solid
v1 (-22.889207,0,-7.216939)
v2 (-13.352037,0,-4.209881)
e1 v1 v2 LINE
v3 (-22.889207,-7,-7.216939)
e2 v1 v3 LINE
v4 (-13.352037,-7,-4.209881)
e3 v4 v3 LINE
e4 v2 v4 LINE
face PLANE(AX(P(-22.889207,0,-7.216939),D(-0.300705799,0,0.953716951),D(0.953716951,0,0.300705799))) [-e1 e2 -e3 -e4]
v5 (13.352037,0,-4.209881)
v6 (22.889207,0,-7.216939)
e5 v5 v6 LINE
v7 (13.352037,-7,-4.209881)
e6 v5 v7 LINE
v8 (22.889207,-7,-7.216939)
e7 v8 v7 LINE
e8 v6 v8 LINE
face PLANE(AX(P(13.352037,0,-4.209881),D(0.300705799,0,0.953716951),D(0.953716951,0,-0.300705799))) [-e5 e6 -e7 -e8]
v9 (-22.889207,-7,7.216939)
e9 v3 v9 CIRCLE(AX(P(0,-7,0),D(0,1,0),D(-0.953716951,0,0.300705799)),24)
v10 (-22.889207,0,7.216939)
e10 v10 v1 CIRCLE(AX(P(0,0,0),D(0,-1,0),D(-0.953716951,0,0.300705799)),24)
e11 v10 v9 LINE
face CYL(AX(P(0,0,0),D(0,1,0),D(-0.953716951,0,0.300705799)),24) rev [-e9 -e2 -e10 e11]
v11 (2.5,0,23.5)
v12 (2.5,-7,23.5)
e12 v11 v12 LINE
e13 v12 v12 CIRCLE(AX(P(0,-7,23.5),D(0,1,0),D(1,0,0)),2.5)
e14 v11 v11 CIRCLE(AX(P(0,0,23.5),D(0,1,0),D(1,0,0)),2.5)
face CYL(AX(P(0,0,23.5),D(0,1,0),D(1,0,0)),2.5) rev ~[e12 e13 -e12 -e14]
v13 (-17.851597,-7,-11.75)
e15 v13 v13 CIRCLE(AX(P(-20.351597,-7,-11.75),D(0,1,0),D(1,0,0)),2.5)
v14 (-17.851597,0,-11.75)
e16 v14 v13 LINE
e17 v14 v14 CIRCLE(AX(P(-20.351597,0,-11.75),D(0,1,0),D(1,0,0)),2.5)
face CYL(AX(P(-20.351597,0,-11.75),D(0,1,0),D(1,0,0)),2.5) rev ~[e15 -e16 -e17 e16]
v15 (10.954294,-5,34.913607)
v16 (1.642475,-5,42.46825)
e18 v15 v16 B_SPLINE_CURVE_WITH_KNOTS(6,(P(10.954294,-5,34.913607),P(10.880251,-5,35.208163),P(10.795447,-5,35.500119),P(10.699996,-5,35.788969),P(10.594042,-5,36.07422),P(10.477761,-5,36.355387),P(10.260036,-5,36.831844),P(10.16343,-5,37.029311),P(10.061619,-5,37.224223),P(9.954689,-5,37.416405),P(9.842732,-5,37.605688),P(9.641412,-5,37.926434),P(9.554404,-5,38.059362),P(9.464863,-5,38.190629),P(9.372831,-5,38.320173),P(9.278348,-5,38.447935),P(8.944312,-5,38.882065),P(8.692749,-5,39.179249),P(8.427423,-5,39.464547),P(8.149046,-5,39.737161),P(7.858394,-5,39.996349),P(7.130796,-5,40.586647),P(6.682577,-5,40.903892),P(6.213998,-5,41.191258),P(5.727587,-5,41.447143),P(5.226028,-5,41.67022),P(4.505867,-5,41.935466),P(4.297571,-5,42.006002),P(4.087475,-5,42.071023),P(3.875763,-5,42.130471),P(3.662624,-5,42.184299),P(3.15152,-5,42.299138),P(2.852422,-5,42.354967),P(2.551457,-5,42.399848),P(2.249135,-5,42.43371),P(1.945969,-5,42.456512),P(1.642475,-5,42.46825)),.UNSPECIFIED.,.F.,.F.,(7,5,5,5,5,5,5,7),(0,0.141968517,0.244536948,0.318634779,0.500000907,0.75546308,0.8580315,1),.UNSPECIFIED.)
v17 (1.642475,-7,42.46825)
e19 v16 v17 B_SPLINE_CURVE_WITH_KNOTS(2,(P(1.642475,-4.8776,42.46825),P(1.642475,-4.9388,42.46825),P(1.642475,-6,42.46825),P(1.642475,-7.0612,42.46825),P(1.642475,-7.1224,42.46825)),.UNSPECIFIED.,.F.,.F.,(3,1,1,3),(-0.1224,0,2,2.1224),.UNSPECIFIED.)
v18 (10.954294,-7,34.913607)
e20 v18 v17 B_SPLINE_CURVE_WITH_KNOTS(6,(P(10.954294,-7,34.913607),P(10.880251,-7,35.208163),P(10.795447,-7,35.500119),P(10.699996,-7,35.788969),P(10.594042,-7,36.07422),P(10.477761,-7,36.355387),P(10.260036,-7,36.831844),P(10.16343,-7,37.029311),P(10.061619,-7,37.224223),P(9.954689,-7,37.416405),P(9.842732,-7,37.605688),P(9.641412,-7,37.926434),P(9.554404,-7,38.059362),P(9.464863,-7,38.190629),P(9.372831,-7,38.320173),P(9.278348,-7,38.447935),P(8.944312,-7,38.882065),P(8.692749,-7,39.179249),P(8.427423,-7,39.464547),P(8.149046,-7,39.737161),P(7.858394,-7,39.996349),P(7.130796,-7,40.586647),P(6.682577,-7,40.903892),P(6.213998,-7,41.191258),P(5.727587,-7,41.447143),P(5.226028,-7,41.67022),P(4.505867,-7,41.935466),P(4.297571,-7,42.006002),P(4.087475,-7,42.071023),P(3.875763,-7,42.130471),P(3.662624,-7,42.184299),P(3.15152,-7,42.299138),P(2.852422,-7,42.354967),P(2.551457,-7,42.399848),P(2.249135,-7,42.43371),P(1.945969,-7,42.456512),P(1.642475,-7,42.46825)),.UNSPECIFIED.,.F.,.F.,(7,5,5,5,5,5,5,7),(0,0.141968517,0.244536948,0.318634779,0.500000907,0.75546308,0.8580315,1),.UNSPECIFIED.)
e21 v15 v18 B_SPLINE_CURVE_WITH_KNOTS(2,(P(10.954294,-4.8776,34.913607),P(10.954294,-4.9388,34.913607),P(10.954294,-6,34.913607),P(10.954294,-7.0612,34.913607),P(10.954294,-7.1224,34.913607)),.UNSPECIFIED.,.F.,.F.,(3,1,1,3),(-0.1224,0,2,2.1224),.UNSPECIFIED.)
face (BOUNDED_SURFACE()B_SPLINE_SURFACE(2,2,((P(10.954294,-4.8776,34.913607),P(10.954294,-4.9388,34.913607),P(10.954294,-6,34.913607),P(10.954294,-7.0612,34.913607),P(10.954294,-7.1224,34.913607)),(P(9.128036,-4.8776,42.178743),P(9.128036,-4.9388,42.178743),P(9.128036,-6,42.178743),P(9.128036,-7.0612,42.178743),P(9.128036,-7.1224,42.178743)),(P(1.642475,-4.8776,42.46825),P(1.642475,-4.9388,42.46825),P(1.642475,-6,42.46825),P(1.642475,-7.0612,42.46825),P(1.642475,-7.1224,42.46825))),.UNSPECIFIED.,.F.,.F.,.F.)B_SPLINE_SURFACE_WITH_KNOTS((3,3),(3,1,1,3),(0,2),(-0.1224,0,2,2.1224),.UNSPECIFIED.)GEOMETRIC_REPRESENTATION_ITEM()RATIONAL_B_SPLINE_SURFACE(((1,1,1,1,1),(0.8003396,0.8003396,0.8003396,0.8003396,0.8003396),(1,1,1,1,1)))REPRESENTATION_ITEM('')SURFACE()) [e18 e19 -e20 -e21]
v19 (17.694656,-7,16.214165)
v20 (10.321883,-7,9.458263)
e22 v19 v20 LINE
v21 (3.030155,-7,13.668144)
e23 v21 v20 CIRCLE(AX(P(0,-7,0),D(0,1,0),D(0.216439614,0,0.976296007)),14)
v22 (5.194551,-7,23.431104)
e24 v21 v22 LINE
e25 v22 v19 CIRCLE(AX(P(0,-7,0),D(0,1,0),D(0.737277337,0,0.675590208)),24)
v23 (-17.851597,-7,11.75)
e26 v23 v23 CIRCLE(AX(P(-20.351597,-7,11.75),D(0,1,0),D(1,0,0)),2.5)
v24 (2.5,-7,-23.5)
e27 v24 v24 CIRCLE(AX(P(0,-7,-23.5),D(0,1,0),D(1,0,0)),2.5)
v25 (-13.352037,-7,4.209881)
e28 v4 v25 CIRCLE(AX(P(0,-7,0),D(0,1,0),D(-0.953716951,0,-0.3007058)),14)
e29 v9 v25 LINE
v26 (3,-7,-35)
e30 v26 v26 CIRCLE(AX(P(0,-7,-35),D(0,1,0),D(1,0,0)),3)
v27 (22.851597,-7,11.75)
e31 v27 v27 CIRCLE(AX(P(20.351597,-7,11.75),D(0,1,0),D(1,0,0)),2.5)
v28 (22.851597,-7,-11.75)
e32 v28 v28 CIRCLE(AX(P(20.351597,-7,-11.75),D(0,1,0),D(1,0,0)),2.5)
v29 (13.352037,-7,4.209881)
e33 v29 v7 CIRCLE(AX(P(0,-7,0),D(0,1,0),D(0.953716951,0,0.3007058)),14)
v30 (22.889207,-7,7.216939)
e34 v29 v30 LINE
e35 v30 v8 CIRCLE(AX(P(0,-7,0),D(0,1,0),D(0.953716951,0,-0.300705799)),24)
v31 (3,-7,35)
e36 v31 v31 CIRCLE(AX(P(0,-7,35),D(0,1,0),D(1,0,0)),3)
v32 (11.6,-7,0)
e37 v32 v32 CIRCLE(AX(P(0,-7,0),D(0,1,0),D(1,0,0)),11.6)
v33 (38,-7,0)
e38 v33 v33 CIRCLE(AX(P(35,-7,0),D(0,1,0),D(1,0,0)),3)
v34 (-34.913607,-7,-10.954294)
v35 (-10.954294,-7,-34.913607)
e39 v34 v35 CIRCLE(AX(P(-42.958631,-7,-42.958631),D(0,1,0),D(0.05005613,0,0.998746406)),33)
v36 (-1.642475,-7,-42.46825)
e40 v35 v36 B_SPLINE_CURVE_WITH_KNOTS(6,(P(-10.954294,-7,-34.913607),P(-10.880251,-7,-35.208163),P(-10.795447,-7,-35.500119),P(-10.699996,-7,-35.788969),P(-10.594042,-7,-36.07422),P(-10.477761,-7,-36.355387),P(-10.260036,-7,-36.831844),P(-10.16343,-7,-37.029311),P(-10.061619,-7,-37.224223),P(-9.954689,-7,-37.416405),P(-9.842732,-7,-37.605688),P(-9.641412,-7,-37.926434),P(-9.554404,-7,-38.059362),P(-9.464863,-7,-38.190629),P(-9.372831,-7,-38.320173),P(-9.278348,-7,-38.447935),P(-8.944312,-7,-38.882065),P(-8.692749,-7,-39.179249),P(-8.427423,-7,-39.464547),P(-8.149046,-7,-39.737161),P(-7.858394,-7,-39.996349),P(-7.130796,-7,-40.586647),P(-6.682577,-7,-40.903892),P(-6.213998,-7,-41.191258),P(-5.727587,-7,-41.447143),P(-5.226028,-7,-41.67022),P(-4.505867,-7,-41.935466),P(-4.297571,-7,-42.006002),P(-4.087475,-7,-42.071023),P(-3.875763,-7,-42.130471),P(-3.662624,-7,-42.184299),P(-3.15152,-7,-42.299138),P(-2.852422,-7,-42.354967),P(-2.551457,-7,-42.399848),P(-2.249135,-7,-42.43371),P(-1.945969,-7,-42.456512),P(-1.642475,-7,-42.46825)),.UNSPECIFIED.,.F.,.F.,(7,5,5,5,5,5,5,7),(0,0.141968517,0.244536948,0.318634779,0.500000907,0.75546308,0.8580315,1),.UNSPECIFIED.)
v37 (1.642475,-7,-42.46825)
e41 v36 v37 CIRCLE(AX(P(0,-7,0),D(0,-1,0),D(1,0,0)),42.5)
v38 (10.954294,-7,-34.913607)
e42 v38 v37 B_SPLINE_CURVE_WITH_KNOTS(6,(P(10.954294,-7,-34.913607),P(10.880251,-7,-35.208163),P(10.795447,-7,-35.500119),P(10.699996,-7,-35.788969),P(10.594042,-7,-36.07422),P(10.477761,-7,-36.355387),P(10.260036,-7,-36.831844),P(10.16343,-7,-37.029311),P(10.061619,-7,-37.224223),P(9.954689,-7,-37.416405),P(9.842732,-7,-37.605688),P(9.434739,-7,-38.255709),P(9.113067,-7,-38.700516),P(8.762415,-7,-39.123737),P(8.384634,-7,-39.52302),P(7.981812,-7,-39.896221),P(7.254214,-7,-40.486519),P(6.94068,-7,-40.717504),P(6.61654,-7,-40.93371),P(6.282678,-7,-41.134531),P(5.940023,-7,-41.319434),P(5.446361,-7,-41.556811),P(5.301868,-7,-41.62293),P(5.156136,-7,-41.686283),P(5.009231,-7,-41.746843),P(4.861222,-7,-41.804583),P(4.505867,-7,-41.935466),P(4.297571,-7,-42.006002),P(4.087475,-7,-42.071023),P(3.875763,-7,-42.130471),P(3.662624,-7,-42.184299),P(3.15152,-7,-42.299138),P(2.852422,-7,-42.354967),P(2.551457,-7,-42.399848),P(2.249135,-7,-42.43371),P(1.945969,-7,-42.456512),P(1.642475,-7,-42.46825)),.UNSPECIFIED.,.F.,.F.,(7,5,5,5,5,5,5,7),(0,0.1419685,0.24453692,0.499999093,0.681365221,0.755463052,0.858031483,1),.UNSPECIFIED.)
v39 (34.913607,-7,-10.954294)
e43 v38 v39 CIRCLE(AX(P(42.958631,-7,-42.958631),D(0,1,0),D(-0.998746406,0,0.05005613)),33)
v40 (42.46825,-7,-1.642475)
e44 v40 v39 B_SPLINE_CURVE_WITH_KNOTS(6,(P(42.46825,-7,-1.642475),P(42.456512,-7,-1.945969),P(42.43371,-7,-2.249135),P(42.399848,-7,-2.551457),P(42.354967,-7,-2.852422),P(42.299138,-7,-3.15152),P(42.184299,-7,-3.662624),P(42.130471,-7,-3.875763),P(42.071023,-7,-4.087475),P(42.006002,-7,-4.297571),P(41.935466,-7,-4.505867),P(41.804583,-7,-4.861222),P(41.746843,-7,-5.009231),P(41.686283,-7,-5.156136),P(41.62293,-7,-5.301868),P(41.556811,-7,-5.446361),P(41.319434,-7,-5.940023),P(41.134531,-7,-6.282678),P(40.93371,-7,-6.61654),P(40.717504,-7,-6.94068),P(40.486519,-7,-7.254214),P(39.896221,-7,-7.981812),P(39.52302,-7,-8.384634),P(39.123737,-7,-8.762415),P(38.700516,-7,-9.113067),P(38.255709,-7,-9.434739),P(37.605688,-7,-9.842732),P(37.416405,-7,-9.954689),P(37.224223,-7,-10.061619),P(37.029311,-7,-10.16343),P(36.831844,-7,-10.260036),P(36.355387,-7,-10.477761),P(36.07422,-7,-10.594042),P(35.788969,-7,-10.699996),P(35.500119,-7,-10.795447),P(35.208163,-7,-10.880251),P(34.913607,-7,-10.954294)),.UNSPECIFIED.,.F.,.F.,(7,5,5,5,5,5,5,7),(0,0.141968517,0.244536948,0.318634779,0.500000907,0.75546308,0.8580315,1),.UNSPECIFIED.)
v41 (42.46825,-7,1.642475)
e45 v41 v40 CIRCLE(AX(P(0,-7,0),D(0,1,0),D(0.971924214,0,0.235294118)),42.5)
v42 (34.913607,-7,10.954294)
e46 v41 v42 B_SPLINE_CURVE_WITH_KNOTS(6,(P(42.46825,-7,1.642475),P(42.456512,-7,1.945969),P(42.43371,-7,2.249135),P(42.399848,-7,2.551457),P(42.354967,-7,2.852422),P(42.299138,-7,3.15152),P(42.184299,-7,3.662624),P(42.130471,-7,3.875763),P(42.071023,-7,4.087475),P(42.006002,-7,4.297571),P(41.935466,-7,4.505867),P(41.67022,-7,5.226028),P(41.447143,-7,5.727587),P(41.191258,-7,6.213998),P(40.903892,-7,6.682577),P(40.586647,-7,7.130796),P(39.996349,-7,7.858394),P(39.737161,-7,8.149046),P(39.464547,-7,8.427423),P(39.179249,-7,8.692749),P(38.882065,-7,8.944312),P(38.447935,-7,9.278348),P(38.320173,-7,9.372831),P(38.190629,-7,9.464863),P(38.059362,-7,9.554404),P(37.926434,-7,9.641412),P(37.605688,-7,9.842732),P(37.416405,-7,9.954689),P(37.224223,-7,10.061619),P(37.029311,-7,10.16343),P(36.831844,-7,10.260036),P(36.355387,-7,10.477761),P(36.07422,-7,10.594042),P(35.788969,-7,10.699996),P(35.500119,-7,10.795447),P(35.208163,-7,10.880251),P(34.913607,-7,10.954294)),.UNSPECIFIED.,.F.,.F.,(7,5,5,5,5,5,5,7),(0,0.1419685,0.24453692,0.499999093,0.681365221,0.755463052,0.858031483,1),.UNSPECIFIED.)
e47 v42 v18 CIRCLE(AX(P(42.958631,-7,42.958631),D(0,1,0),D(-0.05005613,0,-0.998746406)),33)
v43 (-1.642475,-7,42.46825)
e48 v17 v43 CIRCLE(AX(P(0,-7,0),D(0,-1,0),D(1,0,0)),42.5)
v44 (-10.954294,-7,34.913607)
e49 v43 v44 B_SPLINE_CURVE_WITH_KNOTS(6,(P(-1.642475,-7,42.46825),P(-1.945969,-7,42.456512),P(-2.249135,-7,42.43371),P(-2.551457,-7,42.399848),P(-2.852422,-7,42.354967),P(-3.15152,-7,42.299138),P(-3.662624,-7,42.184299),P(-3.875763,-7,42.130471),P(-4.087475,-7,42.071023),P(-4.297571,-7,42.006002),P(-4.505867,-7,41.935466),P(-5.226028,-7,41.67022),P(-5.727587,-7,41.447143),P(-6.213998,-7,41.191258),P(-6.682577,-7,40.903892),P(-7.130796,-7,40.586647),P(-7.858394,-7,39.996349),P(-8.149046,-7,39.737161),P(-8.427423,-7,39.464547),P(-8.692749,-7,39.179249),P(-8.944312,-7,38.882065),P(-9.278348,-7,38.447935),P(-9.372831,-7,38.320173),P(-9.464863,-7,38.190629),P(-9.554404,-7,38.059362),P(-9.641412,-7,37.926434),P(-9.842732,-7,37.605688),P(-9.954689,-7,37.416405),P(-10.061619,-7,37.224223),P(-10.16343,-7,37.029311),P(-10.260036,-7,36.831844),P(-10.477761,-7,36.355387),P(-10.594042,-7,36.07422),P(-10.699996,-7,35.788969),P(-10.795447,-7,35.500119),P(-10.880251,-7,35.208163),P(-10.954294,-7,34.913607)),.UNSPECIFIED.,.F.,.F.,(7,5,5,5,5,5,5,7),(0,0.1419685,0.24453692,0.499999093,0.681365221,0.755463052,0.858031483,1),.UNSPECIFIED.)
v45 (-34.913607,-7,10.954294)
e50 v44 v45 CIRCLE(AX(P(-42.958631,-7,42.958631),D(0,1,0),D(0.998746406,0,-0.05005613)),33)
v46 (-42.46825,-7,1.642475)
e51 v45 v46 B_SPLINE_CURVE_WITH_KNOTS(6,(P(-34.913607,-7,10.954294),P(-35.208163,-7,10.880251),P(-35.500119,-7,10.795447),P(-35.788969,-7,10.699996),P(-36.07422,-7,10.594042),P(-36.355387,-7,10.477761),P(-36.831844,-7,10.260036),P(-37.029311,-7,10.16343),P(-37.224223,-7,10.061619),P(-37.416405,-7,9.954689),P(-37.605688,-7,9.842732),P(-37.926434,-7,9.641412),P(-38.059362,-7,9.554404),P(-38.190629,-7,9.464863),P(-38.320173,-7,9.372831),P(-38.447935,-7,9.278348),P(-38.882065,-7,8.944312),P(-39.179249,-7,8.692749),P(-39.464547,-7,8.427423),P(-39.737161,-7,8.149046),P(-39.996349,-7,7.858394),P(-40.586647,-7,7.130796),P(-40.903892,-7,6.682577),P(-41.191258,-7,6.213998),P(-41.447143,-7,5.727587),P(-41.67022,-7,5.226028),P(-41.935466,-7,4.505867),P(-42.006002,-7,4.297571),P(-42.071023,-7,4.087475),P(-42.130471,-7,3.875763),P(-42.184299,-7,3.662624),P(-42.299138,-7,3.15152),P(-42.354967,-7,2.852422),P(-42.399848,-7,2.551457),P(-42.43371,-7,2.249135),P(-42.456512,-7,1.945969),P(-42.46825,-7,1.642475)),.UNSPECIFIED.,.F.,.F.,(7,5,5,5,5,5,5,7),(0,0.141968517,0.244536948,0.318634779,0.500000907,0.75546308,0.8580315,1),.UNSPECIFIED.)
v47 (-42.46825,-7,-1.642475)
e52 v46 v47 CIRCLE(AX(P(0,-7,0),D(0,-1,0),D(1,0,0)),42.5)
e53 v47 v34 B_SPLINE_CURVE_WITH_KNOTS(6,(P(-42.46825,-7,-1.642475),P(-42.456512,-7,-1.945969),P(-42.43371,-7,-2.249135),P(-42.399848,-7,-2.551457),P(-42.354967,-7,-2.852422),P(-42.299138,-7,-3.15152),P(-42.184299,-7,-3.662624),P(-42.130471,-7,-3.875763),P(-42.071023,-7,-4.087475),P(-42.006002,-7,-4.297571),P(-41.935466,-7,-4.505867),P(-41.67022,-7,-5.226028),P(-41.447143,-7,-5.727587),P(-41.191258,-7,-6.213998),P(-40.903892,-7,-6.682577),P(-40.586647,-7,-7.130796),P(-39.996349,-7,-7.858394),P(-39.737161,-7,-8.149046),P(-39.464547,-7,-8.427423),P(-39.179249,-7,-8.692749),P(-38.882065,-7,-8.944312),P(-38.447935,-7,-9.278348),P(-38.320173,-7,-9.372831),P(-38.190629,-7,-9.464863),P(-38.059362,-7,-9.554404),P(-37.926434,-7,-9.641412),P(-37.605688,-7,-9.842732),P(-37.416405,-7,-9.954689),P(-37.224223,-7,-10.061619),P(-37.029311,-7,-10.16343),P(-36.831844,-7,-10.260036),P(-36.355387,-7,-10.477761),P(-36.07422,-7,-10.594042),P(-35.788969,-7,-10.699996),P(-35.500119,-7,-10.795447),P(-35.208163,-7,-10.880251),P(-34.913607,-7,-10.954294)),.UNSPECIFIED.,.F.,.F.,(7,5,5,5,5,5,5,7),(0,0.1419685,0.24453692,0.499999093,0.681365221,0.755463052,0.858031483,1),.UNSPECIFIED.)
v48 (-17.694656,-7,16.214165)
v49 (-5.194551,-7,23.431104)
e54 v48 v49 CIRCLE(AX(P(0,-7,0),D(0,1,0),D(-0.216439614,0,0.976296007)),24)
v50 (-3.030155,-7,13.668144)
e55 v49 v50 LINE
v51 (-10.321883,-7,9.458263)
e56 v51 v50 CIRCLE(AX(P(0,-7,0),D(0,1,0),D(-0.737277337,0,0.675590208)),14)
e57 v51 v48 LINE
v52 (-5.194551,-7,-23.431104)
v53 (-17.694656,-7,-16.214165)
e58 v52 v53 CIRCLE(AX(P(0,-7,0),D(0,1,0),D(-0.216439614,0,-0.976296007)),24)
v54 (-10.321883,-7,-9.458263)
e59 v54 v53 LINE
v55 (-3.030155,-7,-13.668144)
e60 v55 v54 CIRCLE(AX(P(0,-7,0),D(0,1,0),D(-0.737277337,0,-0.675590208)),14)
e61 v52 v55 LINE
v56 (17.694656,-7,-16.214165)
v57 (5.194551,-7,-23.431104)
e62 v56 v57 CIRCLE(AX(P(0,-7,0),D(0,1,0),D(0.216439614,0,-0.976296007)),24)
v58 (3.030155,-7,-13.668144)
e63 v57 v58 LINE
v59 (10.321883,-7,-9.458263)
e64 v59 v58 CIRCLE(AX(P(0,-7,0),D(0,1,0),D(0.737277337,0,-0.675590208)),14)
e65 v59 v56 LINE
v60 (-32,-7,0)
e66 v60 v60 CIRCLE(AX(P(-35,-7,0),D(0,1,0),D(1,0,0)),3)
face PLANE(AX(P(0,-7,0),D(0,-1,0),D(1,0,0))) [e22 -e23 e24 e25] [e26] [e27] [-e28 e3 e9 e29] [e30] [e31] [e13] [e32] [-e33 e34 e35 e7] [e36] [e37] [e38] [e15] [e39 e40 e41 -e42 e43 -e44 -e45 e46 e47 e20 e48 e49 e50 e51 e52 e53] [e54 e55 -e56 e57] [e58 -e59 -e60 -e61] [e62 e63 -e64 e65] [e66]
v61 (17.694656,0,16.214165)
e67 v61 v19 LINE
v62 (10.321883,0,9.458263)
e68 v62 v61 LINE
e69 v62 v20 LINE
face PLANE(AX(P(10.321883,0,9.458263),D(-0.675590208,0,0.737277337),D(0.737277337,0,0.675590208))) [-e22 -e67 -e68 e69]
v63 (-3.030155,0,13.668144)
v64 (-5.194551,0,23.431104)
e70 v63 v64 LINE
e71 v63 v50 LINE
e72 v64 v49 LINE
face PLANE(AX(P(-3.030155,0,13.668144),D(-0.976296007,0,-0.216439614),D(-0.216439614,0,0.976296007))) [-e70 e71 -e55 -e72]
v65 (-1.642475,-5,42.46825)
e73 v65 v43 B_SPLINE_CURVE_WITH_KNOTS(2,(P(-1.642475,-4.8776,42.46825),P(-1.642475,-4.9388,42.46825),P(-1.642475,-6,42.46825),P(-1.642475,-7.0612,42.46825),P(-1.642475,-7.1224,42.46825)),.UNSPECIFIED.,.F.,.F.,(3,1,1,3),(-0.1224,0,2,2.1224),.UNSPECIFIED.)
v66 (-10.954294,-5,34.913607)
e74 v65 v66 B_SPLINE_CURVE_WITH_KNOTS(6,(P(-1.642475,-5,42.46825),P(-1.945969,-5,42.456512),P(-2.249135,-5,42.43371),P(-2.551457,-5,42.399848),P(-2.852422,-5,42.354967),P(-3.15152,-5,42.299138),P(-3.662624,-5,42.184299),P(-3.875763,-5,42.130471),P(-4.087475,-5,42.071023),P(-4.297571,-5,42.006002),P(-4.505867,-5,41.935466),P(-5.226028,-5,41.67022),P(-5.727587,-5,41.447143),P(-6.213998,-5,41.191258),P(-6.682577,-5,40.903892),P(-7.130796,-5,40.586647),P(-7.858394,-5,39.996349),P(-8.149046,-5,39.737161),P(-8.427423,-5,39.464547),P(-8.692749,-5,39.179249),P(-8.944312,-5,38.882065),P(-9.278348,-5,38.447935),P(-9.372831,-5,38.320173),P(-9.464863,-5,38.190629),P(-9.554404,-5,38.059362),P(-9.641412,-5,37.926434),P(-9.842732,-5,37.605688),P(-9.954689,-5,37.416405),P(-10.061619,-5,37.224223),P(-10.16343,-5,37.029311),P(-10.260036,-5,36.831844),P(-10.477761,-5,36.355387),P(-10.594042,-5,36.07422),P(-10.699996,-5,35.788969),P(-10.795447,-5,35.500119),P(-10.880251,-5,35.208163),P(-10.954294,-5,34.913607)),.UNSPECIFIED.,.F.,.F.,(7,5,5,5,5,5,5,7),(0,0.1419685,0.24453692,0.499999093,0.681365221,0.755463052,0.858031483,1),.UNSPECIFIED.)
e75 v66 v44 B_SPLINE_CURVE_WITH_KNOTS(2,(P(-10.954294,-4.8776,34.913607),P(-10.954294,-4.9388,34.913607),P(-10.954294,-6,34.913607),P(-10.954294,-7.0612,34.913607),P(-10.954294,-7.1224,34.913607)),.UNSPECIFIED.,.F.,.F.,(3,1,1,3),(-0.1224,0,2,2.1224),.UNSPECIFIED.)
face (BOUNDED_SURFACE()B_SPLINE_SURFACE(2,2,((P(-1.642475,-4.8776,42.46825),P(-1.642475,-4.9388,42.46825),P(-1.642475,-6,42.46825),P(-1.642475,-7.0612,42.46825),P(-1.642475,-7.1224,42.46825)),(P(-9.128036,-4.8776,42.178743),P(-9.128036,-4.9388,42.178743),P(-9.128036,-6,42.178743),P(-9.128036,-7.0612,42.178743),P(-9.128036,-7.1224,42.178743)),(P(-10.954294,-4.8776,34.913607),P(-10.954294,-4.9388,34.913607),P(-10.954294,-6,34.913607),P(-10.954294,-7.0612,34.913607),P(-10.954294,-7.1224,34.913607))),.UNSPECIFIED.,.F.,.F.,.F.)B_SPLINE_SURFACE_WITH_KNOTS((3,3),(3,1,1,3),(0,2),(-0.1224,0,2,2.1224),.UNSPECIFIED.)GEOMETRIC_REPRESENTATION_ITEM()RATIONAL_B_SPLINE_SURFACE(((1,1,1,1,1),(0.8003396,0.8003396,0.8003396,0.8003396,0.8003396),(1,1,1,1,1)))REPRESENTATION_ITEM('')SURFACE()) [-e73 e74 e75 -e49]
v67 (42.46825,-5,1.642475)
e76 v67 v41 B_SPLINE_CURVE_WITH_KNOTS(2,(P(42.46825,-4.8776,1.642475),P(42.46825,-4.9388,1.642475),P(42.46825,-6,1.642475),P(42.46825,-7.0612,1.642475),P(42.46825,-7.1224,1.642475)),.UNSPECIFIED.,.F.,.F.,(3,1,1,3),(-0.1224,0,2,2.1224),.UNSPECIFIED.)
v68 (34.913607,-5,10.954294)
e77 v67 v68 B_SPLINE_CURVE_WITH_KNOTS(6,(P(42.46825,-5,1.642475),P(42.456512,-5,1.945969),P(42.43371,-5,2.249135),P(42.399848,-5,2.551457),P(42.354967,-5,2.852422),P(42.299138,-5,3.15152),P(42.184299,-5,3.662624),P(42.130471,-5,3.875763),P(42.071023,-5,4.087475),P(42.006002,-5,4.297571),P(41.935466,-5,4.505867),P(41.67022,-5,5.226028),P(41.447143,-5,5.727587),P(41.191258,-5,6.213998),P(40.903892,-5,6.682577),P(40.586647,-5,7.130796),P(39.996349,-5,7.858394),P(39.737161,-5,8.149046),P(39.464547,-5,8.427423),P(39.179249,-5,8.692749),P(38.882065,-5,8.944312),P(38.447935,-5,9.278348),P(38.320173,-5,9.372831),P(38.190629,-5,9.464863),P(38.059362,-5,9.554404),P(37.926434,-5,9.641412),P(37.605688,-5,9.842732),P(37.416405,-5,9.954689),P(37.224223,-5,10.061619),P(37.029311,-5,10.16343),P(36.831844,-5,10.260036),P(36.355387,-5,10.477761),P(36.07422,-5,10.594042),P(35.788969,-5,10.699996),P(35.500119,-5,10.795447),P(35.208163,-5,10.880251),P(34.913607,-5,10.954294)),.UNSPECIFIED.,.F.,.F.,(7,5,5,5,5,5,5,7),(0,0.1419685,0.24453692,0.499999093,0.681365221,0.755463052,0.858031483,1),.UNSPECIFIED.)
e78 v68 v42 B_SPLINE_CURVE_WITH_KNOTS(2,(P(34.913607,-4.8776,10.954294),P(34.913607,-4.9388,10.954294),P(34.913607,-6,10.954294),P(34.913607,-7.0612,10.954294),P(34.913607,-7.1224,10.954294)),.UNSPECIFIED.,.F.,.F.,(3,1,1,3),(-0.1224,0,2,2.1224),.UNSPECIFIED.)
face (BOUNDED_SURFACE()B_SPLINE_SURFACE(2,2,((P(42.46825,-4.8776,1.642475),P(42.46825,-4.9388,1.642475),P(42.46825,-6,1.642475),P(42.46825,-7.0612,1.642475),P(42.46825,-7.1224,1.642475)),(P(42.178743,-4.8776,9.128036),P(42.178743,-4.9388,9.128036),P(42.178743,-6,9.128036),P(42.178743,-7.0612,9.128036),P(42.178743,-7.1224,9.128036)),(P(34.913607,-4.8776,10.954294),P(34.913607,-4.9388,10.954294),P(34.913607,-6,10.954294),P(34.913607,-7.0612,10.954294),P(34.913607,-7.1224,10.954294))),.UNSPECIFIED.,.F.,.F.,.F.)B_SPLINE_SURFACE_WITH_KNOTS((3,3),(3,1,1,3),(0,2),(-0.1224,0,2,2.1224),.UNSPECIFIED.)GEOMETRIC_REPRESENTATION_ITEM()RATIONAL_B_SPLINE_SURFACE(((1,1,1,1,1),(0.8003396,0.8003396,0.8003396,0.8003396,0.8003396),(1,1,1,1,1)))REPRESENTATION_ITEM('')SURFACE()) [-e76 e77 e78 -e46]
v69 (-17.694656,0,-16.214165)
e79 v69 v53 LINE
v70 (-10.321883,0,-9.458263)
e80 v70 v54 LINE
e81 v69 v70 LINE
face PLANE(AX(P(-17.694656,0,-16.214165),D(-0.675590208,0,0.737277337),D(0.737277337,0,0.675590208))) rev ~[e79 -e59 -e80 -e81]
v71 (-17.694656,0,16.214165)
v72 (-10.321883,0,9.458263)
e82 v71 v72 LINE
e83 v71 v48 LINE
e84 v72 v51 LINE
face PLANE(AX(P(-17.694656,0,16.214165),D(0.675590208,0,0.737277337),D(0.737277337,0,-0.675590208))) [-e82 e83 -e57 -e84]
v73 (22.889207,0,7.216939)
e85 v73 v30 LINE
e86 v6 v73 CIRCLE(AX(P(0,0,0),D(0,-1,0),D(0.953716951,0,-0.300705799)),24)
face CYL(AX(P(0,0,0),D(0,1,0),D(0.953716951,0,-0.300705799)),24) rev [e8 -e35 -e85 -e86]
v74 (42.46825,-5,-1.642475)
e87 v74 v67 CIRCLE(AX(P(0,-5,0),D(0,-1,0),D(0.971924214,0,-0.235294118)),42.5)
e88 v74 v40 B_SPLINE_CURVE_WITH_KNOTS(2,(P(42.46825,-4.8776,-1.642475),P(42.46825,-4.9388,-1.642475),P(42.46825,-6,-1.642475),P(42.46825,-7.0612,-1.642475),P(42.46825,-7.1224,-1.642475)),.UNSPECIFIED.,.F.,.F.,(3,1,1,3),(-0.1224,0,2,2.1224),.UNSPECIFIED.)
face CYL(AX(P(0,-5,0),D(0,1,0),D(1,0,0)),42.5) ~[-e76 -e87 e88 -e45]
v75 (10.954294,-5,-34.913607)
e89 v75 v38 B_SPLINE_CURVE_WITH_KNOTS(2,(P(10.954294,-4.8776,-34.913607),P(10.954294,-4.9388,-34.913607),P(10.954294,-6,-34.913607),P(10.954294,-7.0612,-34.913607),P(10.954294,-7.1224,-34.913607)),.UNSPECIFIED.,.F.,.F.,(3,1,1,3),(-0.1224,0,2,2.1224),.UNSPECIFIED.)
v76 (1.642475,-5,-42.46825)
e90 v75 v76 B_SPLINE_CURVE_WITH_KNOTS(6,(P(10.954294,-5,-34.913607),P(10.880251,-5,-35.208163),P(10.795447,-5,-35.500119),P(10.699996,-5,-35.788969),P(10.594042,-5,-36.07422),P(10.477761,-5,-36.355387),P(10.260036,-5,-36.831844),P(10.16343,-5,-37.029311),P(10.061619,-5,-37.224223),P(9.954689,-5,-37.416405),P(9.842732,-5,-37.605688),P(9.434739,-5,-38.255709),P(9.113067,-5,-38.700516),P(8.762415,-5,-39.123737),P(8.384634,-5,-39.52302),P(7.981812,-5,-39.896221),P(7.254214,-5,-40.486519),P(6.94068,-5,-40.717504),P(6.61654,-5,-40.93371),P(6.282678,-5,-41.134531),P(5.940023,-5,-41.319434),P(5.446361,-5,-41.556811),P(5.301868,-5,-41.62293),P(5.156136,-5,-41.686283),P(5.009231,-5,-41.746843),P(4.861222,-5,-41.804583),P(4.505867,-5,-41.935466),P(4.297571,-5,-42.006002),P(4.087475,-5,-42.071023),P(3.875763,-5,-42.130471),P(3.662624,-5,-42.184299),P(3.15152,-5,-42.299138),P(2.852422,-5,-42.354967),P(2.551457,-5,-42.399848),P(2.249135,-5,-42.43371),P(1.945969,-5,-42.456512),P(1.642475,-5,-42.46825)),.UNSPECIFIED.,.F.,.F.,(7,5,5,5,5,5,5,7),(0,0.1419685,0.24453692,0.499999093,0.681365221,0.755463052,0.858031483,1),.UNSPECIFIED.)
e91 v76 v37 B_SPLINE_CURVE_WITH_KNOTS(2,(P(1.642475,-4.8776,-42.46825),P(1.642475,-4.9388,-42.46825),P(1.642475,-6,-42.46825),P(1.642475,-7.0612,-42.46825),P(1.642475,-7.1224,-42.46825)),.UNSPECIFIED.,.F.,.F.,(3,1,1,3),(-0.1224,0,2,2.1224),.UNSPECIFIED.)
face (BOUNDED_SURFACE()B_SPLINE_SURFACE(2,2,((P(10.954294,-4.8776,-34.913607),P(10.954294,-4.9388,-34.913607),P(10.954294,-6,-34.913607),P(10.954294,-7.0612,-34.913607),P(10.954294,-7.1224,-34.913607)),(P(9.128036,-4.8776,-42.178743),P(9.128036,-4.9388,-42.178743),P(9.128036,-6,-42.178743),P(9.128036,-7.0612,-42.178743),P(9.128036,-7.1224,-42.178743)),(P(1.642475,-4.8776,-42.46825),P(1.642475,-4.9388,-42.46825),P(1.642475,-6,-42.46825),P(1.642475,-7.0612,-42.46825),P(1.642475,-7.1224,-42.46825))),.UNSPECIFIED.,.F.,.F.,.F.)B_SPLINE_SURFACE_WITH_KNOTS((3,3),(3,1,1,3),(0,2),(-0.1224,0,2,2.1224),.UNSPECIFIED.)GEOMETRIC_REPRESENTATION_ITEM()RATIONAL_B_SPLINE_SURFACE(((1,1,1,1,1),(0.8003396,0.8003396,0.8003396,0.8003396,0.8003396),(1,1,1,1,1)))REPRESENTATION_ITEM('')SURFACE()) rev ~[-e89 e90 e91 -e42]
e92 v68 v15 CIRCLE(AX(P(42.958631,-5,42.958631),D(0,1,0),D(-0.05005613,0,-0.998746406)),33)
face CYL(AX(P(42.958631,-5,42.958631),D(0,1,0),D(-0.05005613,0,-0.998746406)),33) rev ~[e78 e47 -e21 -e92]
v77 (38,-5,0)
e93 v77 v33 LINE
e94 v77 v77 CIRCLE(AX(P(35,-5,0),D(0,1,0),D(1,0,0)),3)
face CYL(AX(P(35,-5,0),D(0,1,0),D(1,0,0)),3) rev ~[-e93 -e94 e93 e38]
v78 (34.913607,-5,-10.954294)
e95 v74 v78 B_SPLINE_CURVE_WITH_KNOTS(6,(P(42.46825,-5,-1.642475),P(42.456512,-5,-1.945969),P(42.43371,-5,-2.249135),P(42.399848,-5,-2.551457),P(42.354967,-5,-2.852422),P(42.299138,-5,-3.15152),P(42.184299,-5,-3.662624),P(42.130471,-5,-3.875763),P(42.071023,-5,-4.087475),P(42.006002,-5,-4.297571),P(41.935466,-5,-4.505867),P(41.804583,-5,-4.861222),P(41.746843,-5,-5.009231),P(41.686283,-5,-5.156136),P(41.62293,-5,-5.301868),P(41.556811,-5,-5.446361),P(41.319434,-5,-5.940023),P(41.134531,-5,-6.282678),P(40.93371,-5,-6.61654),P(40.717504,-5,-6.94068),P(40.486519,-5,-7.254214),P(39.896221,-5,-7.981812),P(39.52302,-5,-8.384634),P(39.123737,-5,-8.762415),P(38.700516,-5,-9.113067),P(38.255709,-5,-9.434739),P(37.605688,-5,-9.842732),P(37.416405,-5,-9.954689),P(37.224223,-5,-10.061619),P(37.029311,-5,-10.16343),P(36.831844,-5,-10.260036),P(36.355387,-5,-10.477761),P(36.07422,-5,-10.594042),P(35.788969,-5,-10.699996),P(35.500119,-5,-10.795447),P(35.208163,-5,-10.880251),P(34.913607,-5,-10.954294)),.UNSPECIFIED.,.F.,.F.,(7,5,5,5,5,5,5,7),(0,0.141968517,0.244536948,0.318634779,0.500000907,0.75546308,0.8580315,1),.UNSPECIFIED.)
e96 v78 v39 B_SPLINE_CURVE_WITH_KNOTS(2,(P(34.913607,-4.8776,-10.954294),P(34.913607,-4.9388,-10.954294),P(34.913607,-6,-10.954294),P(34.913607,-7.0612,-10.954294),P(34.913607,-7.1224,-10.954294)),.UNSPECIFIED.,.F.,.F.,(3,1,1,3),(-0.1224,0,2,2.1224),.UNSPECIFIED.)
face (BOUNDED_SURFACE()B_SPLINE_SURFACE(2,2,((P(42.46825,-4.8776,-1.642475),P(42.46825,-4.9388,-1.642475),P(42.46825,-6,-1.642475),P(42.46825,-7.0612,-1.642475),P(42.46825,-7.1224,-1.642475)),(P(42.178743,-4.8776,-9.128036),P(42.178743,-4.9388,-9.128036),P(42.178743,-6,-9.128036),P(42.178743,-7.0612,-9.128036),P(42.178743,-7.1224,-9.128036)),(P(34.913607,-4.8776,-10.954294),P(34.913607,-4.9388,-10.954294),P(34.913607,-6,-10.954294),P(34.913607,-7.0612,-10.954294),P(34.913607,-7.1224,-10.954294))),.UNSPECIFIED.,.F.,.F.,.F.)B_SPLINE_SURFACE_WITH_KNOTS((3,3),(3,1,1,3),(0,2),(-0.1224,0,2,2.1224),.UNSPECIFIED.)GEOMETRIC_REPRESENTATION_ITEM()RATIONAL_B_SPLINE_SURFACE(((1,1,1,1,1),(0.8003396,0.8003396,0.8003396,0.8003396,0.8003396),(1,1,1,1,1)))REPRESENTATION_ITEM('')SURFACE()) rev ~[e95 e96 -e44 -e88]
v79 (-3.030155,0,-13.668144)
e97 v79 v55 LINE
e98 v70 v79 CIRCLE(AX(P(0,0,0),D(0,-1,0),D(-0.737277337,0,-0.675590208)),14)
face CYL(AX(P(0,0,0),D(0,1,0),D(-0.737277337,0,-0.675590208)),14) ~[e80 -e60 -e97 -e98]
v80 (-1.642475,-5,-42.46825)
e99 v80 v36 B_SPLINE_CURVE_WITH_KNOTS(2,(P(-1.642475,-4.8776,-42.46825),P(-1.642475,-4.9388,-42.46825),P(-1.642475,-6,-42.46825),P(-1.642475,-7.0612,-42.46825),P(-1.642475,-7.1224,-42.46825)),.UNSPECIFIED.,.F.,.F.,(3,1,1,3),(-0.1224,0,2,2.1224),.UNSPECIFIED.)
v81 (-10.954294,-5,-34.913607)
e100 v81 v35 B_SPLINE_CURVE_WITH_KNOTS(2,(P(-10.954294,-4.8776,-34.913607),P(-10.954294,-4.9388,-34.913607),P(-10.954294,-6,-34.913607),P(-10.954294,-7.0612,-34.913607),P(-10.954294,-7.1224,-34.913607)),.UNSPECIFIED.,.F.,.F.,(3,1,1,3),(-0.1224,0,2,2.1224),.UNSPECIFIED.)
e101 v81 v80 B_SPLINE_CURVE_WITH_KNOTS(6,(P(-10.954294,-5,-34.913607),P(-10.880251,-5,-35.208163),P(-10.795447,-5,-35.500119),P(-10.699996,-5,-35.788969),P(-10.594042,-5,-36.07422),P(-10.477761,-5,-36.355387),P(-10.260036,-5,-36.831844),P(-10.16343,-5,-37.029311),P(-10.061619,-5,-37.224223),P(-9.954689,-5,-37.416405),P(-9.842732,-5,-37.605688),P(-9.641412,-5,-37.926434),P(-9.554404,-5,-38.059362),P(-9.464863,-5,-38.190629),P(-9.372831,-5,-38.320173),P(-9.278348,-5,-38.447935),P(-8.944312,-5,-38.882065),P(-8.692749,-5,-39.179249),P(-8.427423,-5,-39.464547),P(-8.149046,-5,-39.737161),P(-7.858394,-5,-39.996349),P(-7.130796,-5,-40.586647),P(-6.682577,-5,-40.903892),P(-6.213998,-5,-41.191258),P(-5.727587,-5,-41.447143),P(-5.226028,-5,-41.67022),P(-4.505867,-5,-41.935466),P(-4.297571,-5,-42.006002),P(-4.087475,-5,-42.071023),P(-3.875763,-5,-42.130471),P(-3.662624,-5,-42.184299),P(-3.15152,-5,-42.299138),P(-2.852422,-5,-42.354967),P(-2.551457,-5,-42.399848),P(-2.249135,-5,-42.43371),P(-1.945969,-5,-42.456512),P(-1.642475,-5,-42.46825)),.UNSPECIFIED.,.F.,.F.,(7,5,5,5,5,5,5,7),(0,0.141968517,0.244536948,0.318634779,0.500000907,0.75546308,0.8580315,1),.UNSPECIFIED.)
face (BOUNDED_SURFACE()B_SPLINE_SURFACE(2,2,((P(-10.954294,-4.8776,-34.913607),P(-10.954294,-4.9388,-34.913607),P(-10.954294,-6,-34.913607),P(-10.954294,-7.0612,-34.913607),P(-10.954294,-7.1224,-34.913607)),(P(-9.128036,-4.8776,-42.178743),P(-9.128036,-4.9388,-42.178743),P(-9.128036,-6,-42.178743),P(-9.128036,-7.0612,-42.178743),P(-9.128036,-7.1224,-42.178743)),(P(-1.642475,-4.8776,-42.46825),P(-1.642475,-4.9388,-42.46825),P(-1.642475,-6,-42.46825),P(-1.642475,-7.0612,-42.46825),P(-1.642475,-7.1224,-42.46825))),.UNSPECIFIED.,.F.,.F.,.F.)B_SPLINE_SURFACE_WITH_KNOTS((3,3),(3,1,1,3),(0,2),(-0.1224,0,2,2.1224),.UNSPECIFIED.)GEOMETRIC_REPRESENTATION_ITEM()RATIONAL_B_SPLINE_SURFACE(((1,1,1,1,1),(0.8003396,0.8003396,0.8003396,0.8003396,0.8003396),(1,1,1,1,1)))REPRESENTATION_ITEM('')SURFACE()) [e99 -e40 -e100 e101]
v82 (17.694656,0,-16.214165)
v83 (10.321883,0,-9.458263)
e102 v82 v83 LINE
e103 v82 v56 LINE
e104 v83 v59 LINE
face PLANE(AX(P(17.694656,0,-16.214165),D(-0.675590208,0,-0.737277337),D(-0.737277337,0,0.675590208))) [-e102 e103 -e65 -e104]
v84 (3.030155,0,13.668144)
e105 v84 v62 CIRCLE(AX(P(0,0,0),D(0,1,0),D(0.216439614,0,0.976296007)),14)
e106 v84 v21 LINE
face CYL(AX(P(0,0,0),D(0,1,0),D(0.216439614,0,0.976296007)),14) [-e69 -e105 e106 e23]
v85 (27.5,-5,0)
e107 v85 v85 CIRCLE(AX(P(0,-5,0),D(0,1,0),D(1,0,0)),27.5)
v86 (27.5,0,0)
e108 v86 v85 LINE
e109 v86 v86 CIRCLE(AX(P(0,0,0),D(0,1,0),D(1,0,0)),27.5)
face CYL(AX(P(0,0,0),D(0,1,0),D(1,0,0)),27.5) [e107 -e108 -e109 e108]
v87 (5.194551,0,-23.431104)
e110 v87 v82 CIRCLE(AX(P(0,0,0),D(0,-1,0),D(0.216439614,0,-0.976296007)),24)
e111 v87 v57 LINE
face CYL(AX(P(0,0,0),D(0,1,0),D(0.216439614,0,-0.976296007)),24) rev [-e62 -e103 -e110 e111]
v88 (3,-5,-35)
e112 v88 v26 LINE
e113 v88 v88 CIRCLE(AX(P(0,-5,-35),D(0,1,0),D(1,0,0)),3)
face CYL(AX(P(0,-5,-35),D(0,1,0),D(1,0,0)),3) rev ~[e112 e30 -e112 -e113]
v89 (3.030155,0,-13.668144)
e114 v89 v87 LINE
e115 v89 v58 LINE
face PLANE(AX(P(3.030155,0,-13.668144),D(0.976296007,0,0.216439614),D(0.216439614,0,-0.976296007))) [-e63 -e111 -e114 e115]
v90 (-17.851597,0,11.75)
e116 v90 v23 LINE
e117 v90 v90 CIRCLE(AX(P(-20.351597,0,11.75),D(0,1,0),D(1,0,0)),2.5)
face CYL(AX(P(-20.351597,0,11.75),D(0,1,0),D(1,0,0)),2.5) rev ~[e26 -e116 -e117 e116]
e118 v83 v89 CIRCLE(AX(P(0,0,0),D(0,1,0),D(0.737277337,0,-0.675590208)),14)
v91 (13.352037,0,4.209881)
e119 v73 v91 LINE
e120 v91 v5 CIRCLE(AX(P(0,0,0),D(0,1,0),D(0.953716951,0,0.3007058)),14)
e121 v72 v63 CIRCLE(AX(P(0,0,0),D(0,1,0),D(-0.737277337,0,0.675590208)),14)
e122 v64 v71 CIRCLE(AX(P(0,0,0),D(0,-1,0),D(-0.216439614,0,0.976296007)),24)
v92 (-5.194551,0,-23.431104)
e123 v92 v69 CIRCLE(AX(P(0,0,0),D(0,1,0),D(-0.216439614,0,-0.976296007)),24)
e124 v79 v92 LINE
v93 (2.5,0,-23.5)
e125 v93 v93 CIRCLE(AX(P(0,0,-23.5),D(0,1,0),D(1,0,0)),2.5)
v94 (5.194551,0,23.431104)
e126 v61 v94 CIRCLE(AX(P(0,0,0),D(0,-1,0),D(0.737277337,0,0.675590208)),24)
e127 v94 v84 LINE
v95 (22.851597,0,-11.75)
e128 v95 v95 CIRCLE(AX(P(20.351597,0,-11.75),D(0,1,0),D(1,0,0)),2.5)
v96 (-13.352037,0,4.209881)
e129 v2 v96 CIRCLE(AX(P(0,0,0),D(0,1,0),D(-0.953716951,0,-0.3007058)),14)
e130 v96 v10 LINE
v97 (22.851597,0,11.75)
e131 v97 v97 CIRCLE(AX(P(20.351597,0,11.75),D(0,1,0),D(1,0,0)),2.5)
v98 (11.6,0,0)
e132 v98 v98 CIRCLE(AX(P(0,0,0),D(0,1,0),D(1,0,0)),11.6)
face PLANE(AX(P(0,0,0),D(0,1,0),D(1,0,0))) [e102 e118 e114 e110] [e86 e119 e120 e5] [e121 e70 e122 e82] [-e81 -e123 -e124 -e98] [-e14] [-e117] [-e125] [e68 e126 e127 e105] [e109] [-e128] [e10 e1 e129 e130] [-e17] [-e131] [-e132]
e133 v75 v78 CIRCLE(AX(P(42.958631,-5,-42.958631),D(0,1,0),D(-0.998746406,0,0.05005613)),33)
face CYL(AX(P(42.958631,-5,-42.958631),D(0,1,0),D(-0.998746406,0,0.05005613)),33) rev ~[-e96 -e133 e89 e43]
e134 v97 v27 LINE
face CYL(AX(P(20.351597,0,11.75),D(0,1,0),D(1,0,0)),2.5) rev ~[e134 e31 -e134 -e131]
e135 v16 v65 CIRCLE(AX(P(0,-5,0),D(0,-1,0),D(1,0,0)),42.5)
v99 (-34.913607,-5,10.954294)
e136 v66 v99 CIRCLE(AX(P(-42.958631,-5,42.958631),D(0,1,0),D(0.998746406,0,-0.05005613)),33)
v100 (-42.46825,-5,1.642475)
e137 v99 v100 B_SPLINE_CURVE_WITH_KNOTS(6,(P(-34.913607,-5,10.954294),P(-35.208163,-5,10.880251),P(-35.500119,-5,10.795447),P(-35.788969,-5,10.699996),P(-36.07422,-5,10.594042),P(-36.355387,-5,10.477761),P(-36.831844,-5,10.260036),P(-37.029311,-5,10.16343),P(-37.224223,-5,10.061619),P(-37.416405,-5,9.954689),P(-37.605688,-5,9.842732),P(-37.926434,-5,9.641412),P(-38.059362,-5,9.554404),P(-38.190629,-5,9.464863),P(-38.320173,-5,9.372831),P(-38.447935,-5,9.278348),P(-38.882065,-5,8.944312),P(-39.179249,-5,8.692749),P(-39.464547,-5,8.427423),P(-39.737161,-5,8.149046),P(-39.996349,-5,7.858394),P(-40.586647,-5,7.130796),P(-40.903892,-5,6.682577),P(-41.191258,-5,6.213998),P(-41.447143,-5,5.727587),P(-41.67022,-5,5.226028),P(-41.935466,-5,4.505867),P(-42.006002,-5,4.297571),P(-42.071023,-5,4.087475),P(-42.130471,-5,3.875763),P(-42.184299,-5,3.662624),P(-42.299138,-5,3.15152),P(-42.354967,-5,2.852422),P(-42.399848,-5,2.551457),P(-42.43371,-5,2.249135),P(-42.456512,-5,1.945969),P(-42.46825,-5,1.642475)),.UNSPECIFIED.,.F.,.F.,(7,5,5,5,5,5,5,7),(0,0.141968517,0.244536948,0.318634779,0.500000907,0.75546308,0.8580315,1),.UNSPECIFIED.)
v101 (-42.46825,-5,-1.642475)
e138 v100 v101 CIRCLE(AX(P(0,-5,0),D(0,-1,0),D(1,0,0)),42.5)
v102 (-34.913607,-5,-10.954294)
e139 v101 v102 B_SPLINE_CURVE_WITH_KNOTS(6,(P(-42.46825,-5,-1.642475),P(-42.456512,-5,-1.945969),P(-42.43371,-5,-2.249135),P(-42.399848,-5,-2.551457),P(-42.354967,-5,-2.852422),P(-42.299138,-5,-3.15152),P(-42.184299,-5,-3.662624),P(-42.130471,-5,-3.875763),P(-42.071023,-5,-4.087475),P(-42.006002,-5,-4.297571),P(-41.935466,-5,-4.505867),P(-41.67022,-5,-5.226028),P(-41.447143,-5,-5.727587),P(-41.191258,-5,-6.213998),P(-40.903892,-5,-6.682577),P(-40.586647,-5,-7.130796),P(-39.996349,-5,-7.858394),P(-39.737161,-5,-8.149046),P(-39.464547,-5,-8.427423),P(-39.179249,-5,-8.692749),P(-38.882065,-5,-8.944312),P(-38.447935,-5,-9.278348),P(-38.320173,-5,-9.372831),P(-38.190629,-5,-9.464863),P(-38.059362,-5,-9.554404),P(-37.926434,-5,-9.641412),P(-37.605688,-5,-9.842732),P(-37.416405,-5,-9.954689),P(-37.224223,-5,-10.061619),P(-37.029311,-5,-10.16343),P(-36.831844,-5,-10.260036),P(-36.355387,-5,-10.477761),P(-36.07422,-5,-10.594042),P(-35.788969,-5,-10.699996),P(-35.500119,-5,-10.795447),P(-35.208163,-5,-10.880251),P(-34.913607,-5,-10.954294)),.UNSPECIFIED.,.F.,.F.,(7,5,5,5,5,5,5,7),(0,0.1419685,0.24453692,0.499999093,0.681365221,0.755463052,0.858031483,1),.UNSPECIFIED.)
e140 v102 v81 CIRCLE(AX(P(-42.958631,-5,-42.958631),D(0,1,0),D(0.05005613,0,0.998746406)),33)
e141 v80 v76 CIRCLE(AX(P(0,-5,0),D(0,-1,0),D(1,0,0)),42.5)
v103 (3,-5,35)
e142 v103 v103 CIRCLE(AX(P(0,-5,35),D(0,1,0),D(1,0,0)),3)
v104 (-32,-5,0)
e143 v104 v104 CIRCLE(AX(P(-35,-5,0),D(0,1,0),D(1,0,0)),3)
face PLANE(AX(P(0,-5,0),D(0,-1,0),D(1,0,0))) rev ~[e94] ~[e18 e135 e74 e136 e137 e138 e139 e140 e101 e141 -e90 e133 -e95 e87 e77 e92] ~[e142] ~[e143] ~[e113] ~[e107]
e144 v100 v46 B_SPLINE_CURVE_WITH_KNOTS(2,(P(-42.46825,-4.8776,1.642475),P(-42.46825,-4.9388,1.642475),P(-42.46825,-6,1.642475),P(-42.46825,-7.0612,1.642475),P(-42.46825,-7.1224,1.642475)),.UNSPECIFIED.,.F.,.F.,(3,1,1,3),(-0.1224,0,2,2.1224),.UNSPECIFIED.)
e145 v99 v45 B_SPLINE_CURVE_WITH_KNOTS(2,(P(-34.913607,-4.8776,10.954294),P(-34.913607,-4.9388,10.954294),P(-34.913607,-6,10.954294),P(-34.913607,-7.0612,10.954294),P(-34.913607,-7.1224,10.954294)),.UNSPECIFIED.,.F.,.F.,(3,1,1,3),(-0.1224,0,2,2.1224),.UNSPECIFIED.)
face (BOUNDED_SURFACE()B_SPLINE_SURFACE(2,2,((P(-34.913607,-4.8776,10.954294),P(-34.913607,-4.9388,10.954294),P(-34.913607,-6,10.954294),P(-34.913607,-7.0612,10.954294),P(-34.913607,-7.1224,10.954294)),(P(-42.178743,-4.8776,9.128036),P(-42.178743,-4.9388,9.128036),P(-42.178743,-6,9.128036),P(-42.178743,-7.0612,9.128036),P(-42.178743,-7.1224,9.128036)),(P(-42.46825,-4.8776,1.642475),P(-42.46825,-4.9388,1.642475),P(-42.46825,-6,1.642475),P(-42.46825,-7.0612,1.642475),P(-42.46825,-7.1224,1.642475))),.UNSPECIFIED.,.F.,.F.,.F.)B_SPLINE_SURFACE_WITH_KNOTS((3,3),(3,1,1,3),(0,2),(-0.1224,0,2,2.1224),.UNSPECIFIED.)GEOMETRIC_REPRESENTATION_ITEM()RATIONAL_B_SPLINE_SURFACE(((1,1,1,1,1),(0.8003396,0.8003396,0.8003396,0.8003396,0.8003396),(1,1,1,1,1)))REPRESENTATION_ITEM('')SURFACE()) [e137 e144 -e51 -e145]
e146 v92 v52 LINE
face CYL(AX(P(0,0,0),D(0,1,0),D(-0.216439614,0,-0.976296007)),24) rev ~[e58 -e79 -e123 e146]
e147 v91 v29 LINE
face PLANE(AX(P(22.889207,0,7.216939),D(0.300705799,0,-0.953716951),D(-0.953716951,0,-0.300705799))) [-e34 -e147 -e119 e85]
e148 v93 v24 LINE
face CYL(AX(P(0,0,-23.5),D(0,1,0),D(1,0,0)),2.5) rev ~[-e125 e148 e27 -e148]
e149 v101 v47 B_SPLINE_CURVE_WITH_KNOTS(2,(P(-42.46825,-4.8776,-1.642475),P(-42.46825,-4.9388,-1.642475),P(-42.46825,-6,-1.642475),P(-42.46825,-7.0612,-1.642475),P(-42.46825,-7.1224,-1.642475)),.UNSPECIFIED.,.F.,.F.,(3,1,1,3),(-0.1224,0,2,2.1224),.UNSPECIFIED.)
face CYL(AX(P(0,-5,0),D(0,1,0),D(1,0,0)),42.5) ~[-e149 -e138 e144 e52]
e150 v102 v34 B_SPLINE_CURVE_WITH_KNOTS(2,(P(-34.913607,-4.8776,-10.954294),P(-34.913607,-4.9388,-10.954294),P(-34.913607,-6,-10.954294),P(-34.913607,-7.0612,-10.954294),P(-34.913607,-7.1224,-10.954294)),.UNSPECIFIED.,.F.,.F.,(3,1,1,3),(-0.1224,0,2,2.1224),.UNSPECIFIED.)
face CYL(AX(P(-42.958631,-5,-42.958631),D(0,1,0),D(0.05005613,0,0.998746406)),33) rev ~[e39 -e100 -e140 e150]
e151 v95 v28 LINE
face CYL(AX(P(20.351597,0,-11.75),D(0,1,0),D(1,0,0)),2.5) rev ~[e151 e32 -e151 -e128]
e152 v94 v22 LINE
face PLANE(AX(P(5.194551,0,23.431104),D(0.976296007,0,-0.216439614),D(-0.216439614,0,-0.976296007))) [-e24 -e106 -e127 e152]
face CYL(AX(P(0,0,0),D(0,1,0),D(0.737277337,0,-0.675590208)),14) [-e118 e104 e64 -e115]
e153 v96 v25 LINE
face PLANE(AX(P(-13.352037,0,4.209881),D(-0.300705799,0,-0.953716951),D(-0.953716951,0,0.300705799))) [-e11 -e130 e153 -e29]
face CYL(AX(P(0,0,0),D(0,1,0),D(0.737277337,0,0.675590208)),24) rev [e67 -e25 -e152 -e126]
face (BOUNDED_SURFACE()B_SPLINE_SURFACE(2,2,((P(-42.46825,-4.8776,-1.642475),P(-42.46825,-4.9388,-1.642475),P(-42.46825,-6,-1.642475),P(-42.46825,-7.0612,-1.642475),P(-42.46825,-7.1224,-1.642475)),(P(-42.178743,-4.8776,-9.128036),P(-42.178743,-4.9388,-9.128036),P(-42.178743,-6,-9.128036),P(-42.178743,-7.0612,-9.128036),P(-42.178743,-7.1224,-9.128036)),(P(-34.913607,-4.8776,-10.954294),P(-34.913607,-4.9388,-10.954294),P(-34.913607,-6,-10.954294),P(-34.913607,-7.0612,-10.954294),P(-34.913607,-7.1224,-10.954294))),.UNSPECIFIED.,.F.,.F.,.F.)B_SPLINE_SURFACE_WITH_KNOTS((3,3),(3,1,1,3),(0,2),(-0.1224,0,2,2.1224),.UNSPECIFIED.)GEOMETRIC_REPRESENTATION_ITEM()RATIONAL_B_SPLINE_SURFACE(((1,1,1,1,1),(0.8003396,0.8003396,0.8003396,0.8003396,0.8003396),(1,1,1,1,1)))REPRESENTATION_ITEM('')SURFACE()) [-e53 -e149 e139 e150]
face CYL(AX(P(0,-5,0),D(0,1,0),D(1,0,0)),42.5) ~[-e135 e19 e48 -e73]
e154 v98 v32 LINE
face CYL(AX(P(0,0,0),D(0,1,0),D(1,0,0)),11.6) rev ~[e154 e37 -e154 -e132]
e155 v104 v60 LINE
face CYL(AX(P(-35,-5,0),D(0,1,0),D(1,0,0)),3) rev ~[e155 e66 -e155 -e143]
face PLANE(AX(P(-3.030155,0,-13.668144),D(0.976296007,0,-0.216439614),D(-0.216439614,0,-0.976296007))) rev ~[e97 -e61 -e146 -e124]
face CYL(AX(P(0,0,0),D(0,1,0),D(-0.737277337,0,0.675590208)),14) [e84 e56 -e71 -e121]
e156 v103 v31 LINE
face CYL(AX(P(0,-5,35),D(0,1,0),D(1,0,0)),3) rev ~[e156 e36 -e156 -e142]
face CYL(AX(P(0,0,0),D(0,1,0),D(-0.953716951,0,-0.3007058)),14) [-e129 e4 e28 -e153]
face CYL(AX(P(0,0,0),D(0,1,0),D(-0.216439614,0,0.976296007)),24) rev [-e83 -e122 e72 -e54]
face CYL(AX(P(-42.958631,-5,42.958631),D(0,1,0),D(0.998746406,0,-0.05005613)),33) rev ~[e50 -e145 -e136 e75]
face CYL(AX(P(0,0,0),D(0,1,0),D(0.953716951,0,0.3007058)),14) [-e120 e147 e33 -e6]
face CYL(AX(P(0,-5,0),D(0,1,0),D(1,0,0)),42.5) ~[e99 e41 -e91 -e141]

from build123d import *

# Parameters (mm, degrees)
SKETCH1_R           = 27.5
BOSS_EXTRUDE1_DEPTH = 5
SKETCH2_R           = 42.5
BOSS_EXTRUDE2_DEPTH = 2
SKETCH3_R           = 3
CUT_EXTRUDE1_DEPTH  = 2
SKETCH4_R           = 11.6
SKETCH4_R_2         = 2.5
CUT_EXTRUDE2_DEPTH  = 8
CUT_EXTRUDE3_DEPTH  = 8
FILLET1_R           = 10


with BuildPart() as part:
    # Sketch1 → Boss-Extrude1 (new body)
    with BuildSketch(Plane(origin=(0, 0, 0), x_dir=(1, 0, 0), z_dir=(0, 1, 0))):
        Circle(SKETCH1_R)
    extrude(amount=-BOSS_EXTRUDE1_DEPTH)

    # Sketch2 → Boss-Extrude2 (add)
    with BuildSketch(Plane.XZ.offset(5)):
        Circle(SKETCH2_R)
    extrude(amount=BOSS_EXTRUDE2_DEPTH)

    # Sketch3 → Cut-Extrude1 (cut)
    with BuildSketch(Plane(origin=(0, -5, 0), x_dir=(1, 0, 0), z_dir=(0, 1, 0))):
        with BuildLine():
            ThreePointArc((-41.306779105, 10), (-19.624107624, 19.624107624), (-10, 41.306779105))
            ThreePointArc((-10, 41.306779105), (-30.0520382, 30.0520382), (-41.306779105, 10))
        make_face()
        with Locations((0, 35)):
            Circle(SKETCH3_R)
        with BuildLine():
            ThreePointArc((41.306779105, 10), (30.0520382, 30.0520382), (10, 41.306779105))
            ThreePointArc((10, 41.306779105), (19.624107624, 19.624107624), (41.306779105, 10))
        make_face()
        with Locations((35, 0)):
            Circle(SKETCH3_R)
        with Locations((0, -35)):
            Circle(SKETCH3_R)
        with BuildLine():
            ThreePointArc((41.306779105, -10), (19.624107624, -19.624107624), (10, -41.306779105))
            ThreePointArc((10, -41.306779105), (30.0520382, -30.0520382), (41.306779105, -10))
        make_face()
        with BuildLine():
            ThreePointArc((-10, -41.306779105), (-19.624107624, -19.624107624), (-41.306779105, -10))
            ThreePointArc((-41.306779105, -10), (-30.0520382, -30.0520382), (-10, -41.306779105))
        make_face()
        with Locations((-35, 0)):
            Circle(SKETCH3_R)
    extrude(amount=-CUT_EXTRUDE1_DEPTH, mode=Mode.SUBTRACT)

    # Sketch4 → Cut-Extrude2 (cut, through all)
    with BuildSketch(Plane(origin=(0, 0, 0), x_dir=(1, 0, 0), z_dir=(0, 1, 0))):
        Circle(SKETCH4_R)
        with Locations((0, 23.5)):
            Circle(SKETCH4_R_2)
        with Locations((20.351596989, 11.75)):
            Circle(SKETCH4_R_2)
        with Locations((20.351596989, -11.75)):
            Circle(SKETCH4_R_2)
        with Locations((0, -23.5)):
            Circle(SKETCH4_R_2)
        with Locations((-20.351596989, -11.75)):
            Circle(SKETCH4_R_2)
        with Locations((-20.351596989, 11.75)):
            Circle(SKETCH4_R_2)
    extrude(amount=-CUT_EXTRUDE2_DEPTH, mode=Mode.SUBTRACT)

    # Sketch5 → Cut-Extrude3 (cut, through all)
    with BuildSketch(Plane(origin=(0, 0, 0), x_dir=(1, 0, 0), z_dir=(0, 1, 0))):
        with BuildLine():
            Line((-17.694656083, 16.214164983), (-10.321882715, 9.458262907))
            ThreePointArc((-10.321882715, 9.458262907), (-7, 12.124355653), (-3.030154595, 13.6681441))
            Line((-3.030154595, 13.6681441), (-5.194550735, 23.431104171))
            ThreePointArc((-5.194550735, 23.431104171), (-12, 20.784609691), (-17.694656083, 16.214164983))
        make_face()
        with BuildLine():
            Line((17.694656083, 16.214164983), (10.321882715, 9.458262907))
            ThreePointArc((10.321882715, 9.458262907), (7, 12.124355653), (3.030154595, 13.6681441))
            Line((3.030154595, 13.6681441), (5.194550735, 23.431104171))
            ThreePointArc((5.194550735, 23.431104171), (12, 20.784609691), (17.694656083, 16.214164983))
        make_face()
        with BuildLine():
            Line((22.889206818, -7.216939188), (13.35203731, -4.209881193))
            ThreePointArc((13.35203731, -4.209881193), (14, 0), (13.35203731, 4.209881193))
            Line((13.35203731, 4.209881193), (22.889206818, 7.216939188))
            ThreePointArc((22.889206818, 7.216939188), (24, 0), (22.889206818, -7.216939188))
        make_face()
        with BuildLine():
            Line((5.194550735, -23.431104171), (3.030154595, -13.6681441))
            ThreePointArc((3.030154595, -13.6681441), (7, -12.124355653), (10.321882715, -9.458262907))
            Line((10.321882715, -9.458262907), (17.694656083, -16.214164983))
            ThreePointArc((17.694656083, -16.214164983), (12, -20.784609691), (5.194550735, -23.431104171))
        make_face()
        with BuildLine():
            Line((-17.694656083, -16.214164983), (-10.321882715, -9.458262907))
            ThreePointArc((-10.321882715, -9.458262907), (-7, -12.124355653), (-3.030154595, -13.6681441))
            Line((-3.030154595, -13.6681441), (-5.194550735, -23.431104171))
            ThreePointArc((-5.194550735, -23.431104171), (-12, -20.784609691), (-17.694656083, -16.214164983))
        make_face()
        with BuildLine():
            Line((-22.889206818, 7.216939188), (-13.35203731, 4.209881193))
            ThreePointArc((-13.35203731, 4.209881193), (-14, 0), (-13.35203731, -4.209881193))
            Line((-13.35203731, -4.209881193), (-22.889206818, -7.216939188))
            ThreePointArc((-22.889206818, -7.216939188), (-24, 0), (-22.889206818, 7.216939188))
        make_face()
    extrude(amount=-CUT_EXTRUDE3_DEPTH, mode=Mode.SUBTRACT)

    # Fillet1
    fillet1_edges = [part.edges().sort_by_distance(p)[0] for p in [
        (41.306779105, -6, -10),
        (10, -6, -41.306779105),
        (10, -6, 41.306779105),
        (41.306779105, -6, 10),
        (-41.306779105, -6, 10),
        (-10, -6, 41.306779105),
        (-10, -6, -41.306779105),
        (-41.306779105, -6, -10),
    ]]
    fillet(fillet1_edges, radius=FILLET1_R)


solid = part.part
